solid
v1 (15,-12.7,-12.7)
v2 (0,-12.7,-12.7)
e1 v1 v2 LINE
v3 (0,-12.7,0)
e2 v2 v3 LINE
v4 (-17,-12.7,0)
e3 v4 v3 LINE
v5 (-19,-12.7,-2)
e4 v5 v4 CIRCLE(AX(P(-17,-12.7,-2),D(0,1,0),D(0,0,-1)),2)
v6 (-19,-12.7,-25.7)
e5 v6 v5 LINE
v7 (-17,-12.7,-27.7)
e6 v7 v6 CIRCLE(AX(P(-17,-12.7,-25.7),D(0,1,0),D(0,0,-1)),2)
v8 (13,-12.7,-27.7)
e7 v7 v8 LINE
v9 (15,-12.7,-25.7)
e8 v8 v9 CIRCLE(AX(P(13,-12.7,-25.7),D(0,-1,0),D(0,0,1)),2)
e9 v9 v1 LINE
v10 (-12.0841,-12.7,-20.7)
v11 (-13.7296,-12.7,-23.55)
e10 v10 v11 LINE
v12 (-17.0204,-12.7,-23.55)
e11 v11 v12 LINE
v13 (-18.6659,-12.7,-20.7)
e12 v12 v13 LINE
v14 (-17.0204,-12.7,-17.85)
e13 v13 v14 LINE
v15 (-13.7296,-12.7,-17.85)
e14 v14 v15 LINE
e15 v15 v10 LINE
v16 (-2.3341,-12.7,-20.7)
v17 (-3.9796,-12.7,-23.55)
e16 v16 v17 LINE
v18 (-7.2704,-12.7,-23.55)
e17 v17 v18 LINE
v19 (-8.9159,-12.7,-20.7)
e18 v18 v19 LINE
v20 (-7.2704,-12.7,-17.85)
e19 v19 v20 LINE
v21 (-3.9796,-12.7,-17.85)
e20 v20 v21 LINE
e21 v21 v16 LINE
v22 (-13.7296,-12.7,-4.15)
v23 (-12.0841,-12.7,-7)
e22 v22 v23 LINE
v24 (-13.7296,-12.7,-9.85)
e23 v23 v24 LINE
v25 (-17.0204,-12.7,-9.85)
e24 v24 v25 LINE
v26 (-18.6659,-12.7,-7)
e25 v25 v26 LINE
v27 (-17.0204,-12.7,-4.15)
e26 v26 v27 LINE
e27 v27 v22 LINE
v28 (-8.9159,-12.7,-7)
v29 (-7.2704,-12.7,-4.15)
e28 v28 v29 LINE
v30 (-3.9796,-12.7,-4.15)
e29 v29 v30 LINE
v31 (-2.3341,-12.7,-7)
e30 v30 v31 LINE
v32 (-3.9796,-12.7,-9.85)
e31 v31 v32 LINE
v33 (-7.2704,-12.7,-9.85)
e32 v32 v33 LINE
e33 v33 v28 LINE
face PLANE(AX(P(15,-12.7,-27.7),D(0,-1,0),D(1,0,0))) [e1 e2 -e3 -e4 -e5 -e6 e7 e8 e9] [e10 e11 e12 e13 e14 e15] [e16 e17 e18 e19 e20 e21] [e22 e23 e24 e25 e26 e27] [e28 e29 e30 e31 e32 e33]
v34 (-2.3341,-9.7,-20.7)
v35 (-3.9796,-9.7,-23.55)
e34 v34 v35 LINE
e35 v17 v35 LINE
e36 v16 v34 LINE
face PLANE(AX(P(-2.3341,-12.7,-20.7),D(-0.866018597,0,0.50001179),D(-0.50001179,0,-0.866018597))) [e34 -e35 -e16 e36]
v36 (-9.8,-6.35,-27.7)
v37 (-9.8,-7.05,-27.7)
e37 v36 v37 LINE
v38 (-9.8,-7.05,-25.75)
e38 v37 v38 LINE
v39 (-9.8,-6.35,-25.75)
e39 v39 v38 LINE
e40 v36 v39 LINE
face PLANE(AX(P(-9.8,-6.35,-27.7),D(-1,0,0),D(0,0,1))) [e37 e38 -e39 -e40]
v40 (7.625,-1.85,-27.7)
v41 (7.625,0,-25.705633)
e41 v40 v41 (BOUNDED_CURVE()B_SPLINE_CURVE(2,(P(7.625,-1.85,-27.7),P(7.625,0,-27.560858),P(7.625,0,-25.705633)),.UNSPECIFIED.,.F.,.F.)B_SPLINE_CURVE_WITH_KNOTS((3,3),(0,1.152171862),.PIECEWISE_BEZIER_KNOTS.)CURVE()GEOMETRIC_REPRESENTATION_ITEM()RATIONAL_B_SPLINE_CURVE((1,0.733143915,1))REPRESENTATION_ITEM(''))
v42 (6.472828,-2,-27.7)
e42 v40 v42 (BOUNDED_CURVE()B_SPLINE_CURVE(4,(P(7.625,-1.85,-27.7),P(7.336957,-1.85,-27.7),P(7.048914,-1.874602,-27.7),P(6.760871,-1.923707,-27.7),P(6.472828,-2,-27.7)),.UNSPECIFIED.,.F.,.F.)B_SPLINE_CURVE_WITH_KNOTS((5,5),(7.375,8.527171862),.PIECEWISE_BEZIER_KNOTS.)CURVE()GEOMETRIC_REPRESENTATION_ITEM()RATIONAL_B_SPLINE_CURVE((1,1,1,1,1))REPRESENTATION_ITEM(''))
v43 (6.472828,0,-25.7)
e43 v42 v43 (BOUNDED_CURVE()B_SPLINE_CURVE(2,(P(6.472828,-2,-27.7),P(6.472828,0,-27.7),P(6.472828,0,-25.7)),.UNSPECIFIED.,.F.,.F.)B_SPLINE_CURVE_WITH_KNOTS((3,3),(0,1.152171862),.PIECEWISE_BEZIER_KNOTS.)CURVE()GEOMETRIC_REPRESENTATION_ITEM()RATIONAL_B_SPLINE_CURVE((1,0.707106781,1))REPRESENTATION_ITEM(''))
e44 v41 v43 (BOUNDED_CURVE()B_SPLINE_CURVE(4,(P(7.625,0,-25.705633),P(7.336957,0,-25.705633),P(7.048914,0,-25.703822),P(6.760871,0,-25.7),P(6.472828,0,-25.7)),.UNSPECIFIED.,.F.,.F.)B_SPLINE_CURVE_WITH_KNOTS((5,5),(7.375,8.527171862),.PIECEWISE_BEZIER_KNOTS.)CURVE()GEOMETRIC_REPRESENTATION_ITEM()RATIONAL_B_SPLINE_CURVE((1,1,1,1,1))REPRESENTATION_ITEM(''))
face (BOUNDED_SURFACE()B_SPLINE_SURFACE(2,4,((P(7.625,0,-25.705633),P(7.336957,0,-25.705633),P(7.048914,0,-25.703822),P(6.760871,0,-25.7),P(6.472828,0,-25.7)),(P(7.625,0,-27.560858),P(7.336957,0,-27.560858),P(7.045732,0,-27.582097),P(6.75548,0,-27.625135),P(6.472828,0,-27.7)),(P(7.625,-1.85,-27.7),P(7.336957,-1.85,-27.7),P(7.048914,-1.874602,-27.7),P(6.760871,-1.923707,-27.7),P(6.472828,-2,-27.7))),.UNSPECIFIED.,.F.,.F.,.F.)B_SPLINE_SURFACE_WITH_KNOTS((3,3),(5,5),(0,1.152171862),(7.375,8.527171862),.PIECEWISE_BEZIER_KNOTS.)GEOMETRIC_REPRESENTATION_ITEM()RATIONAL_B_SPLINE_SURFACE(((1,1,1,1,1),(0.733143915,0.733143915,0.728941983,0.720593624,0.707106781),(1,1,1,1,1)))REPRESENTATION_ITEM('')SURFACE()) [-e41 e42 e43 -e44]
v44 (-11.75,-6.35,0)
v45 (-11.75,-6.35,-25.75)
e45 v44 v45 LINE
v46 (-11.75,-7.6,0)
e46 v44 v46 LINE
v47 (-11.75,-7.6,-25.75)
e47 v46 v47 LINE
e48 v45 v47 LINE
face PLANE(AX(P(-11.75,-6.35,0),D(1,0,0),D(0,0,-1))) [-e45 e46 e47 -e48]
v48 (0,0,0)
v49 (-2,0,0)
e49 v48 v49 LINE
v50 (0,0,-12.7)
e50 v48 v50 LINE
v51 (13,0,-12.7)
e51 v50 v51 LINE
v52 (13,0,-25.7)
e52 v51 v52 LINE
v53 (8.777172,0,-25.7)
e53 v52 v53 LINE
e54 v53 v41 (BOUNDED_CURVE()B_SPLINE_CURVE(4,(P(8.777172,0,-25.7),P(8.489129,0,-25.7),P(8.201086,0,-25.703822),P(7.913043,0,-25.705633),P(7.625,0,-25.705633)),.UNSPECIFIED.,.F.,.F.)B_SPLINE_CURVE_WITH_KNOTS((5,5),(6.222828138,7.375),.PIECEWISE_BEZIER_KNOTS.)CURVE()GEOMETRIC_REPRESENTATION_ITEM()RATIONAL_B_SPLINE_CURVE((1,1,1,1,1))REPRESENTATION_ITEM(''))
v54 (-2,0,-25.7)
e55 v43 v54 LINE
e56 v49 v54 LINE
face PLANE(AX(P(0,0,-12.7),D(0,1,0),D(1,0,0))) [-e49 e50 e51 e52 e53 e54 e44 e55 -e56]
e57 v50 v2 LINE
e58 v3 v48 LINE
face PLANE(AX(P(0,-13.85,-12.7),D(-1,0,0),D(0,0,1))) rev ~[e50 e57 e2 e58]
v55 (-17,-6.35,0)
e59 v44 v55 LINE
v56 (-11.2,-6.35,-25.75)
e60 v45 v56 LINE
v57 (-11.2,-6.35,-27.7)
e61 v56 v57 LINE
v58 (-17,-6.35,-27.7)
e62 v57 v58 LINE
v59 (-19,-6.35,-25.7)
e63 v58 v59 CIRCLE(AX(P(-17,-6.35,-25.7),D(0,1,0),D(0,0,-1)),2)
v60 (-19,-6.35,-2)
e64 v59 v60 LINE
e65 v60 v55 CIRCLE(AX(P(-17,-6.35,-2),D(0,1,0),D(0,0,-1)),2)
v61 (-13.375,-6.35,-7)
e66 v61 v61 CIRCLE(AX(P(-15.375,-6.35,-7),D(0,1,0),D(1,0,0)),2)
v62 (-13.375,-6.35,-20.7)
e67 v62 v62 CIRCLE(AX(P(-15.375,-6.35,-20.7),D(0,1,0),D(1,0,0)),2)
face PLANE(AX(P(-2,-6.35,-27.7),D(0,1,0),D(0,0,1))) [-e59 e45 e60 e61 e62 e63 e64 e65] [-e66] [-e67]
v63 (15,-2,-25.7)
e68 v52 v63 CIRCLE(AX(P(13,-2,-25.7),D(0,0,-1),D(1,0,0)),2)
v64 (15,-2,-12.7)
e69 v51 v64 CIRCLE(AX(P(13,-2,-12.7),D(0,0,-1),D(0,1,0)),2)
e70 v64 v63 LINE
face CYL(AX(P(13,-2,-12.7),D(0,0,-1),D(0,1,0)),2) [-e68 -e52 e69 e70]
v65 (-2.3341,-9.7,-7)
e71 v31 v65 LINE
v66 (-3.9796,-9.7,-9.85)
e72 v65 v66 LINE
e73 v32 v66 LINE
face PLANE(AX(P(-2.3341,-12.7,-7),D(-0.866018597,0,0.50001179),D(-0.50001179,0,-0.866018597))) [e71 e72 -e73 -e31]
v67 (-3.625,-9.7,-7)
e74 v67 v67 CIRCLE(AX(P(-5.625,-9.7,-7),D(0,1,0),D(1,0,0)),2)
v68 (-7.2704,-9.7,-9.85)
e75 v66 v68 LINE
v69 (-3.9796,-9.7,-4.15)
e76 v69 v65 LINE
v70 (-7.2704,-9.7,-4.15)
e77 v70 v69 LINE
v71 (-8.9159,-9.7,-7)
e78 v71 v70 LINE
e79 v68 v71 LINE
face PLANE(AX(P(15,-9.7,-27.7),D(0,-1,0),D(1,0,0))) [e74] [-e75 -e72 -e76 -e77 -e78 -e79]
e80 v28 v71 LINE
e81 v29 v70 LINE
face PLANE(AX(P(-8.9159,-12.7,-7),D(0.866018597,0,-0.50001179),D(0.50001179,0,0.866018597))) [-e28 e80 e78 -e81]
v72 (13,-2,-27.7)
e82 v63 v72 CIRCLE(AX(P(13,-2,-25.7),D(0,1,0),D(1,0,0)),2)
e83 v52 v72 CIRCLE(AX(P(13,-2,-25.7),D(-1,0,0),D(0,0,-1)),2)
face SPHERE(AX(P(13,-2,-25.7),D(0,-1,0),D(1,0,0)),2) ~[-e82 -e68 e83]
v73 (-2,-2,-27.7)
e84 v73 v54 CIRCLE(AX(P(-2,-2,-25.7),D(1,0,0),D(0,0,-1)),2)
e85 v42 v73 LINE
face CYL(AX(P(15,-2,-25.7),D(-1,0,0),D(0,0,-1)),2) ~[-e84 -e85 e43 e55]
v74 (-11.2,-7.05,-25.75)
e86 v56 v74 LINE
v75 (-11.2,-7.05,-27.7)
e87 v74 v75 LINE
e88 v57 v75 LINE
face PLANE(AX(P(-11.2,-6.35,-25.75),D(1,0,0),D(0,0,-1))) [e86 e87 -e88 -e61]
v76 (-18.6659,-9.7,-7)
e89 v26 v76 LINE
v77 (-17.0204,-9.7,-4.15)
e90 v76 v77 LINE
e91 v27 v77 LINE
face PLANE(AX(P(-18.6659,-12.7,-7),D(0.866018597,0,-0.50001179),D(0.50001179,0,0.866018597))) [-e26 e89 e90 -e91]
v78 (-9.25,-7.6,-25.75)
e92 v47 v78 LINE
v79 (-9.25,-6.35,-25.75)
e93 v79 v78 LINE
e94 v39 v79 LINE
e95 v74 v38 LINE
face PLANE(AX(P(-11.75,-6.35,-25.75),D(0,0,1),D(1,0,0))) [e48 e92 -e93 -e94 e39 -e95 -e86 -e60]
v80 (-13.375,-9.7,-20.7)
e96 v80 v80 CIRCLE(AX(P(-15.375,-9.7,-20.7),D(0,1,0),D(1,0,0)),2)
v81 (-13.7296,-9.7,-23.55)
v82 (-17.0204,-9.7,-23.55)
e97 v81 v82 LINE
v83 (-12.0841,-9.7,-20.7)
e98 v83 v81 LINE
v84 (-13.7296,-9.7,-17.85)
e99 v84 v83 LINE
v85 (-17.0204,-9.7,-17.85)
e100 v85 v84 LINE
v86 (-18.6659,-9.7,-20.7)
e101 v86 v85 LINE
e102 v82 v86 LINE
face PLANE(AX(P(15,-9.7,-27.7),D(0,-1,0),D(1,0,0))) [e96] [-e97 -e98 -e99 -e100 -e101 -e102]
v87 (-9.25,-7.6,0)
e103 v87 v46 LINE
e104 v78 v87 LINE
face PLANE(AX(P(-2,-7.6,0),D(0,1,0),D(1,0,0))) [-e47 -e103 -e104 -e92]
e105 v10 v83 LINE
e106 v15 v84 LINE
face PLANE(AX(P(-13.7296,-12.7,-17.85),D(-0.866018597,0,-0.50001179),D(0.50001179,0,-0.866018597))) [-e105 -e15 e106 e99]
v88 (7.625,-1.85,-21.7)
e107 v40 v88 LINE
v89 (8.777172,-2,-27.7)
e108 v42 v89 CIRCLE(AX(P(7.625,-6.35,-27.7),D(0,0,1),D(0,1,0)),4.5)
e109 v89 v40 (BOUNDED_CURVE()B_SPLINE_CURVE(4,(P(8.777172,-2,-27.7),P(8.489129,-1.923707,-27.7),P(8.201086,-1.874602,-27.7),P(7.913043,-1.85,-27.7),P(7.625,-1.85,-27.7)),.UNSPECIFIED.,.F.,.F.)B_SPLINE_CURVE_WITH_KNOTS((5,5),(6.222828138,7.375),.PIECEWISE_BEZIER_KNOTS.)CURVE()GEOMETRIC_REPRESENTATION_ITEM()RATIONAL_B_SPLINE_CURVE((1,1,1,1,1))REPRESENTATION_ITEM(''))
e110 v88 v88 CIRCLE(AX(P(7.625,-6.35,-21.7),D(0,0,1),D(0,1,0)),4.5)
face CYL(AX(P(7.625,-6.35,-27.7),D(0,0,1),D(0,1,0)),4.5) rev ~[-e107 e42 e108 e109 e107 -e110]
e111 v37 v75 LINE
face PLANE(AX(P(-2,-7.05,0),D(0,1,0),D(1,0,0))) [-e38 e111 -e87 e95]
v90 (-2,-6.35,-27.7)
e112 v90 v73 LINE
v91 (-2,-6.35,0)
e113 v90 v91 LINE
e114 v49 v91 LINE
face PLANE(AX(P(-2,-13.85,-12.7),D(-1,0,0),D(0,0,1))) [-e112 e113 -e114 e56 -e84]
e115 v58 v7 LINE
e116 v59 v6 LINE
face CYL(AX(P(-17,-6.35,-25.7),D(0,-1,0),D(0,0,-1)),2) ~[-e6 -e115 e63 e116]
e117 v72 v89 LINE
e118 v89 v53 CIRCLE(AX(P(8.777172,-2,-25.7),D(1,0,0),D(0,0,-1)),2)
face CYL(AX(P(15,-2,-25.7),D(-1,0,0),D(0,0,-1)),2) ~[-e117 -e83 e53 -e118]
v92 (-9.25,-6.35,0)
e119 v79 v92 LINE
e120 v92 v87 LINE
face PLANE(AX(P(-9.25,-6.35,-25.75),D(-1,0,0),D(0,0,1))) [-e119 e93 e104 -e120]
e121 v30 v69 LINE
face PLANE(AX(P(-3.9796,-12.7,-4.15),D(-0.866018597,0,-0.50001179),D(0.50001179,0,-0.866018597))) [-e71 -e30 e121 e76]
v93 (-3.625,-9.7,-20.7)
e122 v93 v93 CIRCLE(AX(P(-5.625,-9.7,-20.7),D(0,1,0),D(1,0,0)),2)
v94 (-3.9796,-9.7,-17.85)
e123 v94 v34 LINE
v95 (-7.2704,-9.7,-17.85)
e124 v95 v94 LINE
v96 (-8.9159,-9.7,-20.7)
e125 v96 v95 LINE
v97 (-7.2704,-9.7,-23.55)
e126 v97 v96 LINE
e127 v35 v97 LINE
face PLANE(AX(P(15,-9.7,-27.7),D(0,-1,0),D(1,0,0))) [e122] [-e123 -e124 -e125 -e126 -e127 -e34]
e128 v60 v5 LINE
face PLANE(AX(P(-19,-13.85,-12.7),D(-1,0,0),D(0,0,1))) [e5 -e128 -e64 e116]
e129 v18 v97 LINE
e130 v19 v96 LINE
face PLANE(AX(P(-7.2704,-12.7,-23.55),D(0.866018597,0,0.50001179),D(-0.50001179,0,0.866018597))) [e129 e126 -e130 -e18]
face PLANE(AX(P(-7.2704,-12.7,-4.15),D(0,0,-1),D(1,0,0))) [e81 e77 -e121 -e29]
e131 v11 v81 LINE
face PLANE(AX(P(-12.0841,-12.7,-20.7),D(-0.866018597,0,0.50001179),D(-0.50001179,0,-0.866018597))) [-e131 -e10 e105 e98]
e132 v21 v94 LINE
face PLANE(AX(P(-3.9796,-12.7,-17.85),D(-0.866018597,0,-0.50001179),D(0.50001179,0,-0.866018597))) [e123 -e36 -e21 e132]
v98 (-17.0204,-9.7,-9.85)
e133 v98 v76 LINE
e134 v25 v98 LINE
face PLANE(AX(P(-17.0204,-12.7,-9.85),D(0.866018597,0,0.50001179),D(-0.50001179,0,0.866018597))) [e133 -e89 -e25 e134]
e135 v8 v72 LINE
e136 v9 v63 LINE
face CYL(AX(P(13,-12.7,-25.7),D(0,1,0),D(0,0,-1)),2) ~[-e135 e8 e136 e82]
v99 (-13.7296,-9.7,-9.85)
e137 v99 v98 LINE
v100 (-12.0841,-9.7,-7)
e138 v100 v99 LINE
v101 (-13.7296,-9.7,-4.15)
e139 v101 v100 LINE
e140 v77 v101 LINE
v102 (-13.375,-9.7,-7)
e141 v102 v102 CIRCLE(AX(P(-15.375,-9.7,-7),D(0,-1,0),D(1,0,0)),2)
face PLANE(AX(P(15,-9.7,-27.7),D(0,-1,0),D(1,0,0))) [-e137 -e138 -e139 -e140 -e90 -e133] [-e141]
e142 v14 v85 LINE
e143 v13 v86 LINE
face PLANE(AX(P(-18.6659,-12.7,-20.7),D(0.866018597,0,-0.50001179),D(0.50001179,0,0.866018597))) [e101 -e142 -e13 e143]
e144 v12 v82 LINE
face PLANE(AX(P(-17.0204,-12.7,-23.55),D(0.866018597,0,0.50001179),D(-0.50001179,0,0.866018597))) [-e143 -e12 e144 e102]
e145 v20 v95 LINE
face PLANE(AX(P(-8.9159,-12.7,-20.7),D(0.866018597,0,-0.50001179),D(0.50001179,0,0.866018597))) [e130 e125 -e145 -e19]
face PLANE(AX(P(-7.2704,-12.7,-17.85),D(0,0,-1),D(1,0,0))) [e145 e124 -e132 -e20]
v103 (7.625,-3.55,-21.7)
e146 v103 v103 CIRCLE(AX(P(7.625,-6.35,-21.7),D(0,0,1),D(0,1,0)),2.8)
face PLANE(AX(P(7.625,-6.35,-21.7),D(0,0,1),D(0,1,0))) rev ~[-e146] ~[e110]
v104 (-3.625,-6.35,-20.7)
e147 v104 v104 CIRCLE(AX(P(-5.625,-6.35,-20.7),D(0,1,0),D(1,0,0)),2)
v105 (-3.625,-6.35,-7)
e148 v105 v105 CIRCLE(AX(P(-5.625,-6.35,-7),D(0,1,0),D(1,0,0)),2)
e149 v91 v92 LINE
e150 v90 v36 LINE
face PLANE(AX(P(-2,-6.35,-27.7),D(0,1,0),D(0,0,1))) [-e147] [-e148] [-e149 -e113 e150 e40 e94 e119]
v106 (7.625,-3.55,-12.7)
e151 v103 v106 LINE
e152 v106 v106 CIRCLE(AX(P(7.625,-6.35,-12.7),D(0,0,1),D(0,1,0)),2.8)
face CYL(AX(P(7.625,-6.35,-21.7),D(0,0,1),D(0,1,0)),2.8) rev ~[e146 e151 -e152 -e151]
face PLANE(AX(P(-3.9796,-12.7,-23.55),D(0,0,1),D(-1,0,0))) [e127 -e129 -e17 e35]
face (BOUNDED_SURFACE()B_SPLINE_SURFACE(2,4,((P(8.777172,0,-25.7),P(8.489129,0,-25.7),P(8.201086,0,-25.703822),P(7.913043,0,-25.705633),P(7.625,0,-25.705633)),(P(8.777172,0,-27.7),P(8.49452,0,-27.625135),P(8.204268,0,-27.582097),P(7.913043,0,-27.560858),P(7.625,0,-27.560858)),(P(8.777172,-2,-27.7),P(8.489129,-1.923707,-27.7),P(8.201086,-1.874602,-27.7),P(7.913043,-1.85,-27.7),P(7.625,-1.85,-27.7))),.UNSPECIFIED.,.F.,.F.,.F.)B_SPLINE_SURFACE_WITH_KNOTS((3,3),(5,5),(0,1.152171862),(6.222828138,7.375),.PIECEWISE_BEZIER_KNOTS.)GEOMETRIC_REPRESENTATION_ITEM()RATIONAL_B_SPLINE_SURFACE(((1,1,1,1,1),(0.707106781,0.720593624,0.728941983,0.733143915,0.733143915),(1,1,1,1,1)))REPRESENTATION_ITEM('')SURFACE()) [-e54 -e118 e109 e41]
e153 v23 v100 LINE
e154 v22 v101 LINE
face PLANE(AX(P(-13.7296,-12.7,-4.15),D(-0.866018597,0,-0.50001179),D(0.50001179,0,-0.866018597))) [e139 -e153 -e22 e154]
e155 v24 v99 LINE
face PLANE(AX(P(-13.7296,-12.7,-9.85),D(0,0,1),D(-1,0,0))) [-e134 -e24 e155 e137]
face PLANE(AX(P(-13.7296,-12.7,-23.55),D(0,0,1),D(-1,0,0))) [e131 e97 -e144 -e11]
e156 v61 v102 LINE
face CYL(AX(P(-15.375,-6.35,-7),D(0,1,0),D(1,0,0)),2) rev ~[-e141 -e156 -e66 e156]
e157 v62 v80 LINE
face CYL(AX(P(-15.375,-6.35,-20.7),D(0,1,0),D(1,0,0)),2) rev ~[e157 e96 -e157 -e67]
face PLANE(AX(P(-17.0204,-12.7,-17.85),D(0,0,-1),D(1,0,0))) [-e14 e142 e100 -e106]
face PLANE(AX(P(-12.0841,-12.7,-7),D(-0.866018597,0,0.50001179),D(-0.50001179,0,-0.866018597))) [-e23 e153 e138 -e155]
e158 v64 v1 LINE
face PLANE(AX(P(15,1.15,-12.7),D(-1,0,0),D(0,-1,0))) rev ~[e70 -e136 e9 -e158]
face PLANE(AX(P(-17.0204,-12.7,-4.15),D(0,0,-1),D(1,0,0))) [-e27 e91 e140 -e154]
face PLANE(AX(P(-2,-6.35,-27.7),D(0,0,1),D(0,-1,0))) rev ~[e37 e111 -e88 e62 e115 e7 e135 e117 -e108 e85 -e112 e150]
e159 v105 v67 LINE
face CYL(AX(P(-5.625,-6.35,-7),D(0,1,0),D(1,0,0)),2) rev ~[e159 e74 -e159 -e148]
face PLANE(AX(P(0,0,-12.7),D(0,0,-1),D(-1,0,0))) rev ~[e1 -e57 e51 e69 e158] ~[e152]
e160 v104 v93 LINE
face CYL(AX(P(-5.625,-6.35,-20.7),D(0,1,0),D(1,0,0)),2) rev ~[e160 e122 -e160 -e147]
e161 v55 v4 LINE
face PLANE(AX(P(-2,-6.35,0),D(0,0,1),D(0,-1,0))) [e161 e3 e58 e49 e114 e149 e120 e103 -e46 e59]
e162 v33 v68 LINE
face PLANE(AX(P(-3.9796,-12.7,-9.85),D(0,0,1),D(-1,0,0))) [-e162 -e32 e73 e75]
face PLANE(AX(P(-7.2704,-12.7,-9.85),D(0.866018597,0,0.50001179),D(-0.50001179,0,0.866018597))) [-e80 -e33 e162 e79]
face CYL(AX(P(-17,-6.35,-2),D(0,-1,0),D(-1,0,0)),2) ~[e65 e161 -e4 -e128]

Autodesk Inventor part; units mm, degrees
ref_plane "YZ Plane" through (0, 0, 0) normal (1, 0, 0) x (0, 1, 0)
ref_plane "XZ Plane" through (0, 0, 0) normal (0, 1, 0) x (-1, 0, 0)
ref_plane "Arbeitsebene1" through (0, 0, -12.7) normal (0, 0, -1) x (-1, 0, 0)
sketch "Skizze2" plane through (0, 0, -12.7) normal (0, 0, -1) x (-1, 0, 0)
  line L0 (-55.25, 0) -> (-55.25, -12.7) projected
  line L1 (0, -12.7) -> (-55.25, -12.7) projected
  line L2 (0, 0) -> (0, -12.7) projected
  line L3 (0, 0) -> (-55.25, 0) projected
  circle A0 centre (-47.625, -6.35) radius 2.75 projected
  circle A1 centre (-7.625, -6.35) radius 2.75 projected
  line L4 (0, 1.15) -> (-15, 1.15)
  line L5 (-15, 1.15) -> (-15, -13.85)
  line L6 (-15, -13.85) -> (0, -13.85)
  line L7 (0, -13.85) -> (0, 1.15)
  point P0 (-15, -6.35)
  dimension "d1" = 15
  dimension "d2" = 0
  dimension "d3" = 15
extrude "Extrusion1" add sketch "Skizze2" along normal blind 15 contours L5 L4 L7 L3 | L3 L2 L1 L5 | L1 L7 L6 L5 | A1
sketch "Skizze3" plane through (0, -13.85, -12.7) normal (-1, 0, 0) x (0, 0, 1)
  line L0 (12.7, 1.15) -> (12.7, 13.85) projected
  line L1 (-15, 0) -> (-15, 15) projected
  line L2 (-15, 15) -> (12.7, 15)
  line L3 (12.7, 15) -> (12.7, 0)
  line L4 (12.7, 0) -> (-15, 0)
  line L5 (-15, 0) -> (-15, 15)
  line L6 (0, 0) -> (-15, 0) projected
extrude "Extrusion2" add sketch "Skizze3" along normal blind 2
sketch "Skizze4" plane through (-2, -13.85, -12.7) normal (-1, 0, 0) x (0, 0, 1)
  line L0 (0, 0) -> (12.7, 0) projected
  line L1 (-15, 15) -> (-15, 0) projected
  line L2 (12.7, 0) -> (-15, 0)
  line L3 (-15, 0) -> (-15, 7.5)
  line L4 (-15, 7.5) -> (12.7, 7.5)
  line L5 (12.7, 7.5) -> (12.7, 0)
  line L6 (12.7, 0) -> (12.7, 15) projected
  point P0 (12.7, 13.85)
  point P1 (12.7, 7.5)
  point P2 (-1.15, 7.5)
extrude "Extrusion3" add sketch "Skizze4" along normal blind 17
sketch "Skizze5" plane through (-2, -6.35, 0) normal (0, 1, 0) x (1, 0, 0)
  line L0 (0, 27.7) -> (-17, 27.7) projected
  line L1 (0, 0) -> (0, 27.7) projected
  line L2 (0, 0) -> (-17, 0) projected
  line L3 (-17, 0) -> (-17, 27.7) projected
  line L4 (-7.25, 0) -> (-9.75, 0)
  line L5 (-9.75, 0) -> (-9.75, 25.75)
  line L6 (-9.75, 25.75) -> (-7.25, 25.75)
  line L7 (-7.25, 25.75) -> (-7.25, 0)
  point P0 (2, 0)
  point P1 (-8.5, 0)
  point P2 (-8.5, 0)
  dimension "d10" = 2.5
  dimension "d17" = 25.75
extrude "Extrusion4" cut sketch "Skizze5" against normal blind 1.25 contours L2 L5 L6 L7
sketch "Skizze6" plane through (-2, -6.35, 0) normal (0, 1, 0) x (1, 0, 0)
  line L0 (-9.75, 25.75) -> (-7.25, 25.75) projected
  line L1 (-7.25, 25.75) -> (-7.25, 0) projected
  line L2 (-9.75, 0) -> (-9.75, 25.75) projected
  line L3 (0, 27.7) -> (-17, 27.7) projected
  line L4 (-9.75, 25.75) -> (-7.25, 25.75) projected
  line L5 (-7.8, 25.75) -> (-9.2, 25.75)
  line L6 (-9.2, 25.75) -> (-9.2, 27.7)
  line L7 (-9.2, 27.7) -> (-7.8, 27.7)
  line L8 (-7.8, 27.7) -> (-7.8, 25.75)
  point P0 (2, 0)
  point P1 (-8.5, 25.75)
  point P2 (-8.5, 25.75)
  point P3 (-7.8, 27.7)
  dimension "d14" = 1.4
extrude "Extrusion5" cut sketch "Skizze6" against normal blind 0.7
sketch "Skizze7" plane through (-2, -6.35, 0) normal (0, 1, 0) x (1, 0, 0)
  circle A0 centre (-3.625, 7) radius 2
  circle A1 centre (-13.375, 7) radius 2
  circle A2 centre (-13.375, 20.7) radius 2
  circle A3 centre (-3.625, 20.7) radius 2
  line L0 (0, 0) -> (-7.25, 0) projected
  line L1 (-9.75, 0) -> (-17, 0) projected
  line L2 (-9.2, 27.7) -> (-17, 27.7) projected
  point P0 (2, 0)
  point P1 (-3.625, 0)
  point P2 (-13.375, 0)
  dimension "d18" = 4
  dimension "d19" = 4
  dimension "d20" = 4
  dimension "d21" = 4
  dimension "d22" = 7
  dimension "d23" = 7
extrude "Extrusion6" cut sketch "Skizze7" against normal blind 10
sketch "Skizze9" plane through (0, 0, -27.7) normal (0, 0, -1) x (-1, 0, 0)
  circle A0 centre (-7.625, -6.35) radius 2.75 projected
  point P0 (0, 0)
hole "Bohrung1" at (7.625, -6.35, -27.7) direction (0, 0, 1) diameter 5.6 depth 15 counterbore diameter 9 counterbore depth 6
sketch "Skizze10" plane through (0, 1.15, -12.7) normal (0, 1, 0) x (1, 0, 0)
  line L0 (19, -16) -> (-4, -16)
  line L1 (-4, -16) -> (-4, 20)
  line L2 (-4, 20) -> (19, 20)
  line L3 (19, 20) -> (19, -16)
  point P0 (0, -12.7)
extrude "Extrusion8" cut sketch "Skizze10" against normal blind 1.15
sketch "Skizze11" plane through (15, -13.85, -27.7) normal (0, -1, 0) x (1, 0, 0)
  line L0 (6, 49) -> (-39, 49)
  line L1 (-39, 49) -> (-39, -17)
  line L2 (-39, -17) -> (6, -17)
  line L3 (6, -17) -> (6, 49)
  point P0 (-15, 27.7)
extrude "Extrusion9" cut sketch "Skizze11" against normal blind 1.15
fillet "Rundung2" radius 2 5 edges at (-19, -9.525, -27.7) (-19, -9.525, 0) (15, -6.35, -27.7) (15, 0, -20.2) (6.5, 0, -27.7)
sketch "Skizze12" plane through (15, -12.7, -27.7) normal (0, -1, 0) x (1, 0, 0)
  circle A0 centre (-30.375, 20.7) radius 2 projected
  circle A1 centre (-20.625, 20.7) radius 2 projected
  circle A2 centre (-20.625, 7) radius 2 projected
  circle A3 centre (-30.375, 7) radius 2 projected
  line L0 (-27.0841, 20.7) -> (-28.7296, 17.85)
  line L1 (-28.7296, 17.85) -> (-32.0204, 17.85)
  line L2 (-32.0204, 17.85) -> (-33.6659, 20.7)
  line L3 (-33.6659, 20.7) -> (-32.0204, 23.55)
  line L4 (-32.0204, 23.55) -> (-28.7296, 23.55)
  line L5 (-28.7296, 23.55) -> (-27.0841, 20.7)
  line L6 (-17.3341, 20.7) -> (-18.9796, 17.85)
  line L7 (-18.9796, 17.85) -> (-22.2704, 17.85)
  line L8 (-22.2704, 17.85) -> (-23.9159, 20.7)
  line L9 (-23.9159, 20.7) -> (-22.2704, 23.55)
  line L10 (-22.2704, 23.55) -> (-18.9796, 23.55)
  line L11 (-18.9796, 23.55) -> (-17.3341, 20.7)
  line L12 (-17.3341, 7) -> (-18.9796, 4.15)
  line L13 (-18.9796, 4.15) -> (-22.2704, 4.15)
  line L14 (-22.2704, 4.15) -> (-23.9159, 7)
  line L15 (-23.9159, 7) -> (-22.2704, 9.85)
  line L16 (-22.2704, 9.85) -> (-18.9796, 9.85)
  line L17 (-18.9796, 9.85) -> (-17.3341, 7)
  line L18 (-28.7296, 4.15) -> (-32.0204, 4.15)
  line L19 (-32.0204, 4.15) -> (-33.6659, 7)
  line L20 (-33.6659, 7) -> (-32.0204, 9.85)
  line L21 (-32.0204, 9.85) -> (-28.7296, 9.85)
  line L22 (-28.7296, 9.85) -> (-27.0841, 7)
  line L23 (-27.0841, 7) -> (-28.7296, 4.15)
  line L24 (-2, 0) -> (-32, 0) projected
  point P0 (-15, 27.7)
  point P1 (-30.375, 17.85)
  point P2 (-20.625, 17.85)
  dimension "d43" = 5.7
extrude "Extrusion10" cut sketch "Skizze12" against normal blind 3 contours A1 | A2 | A3 | L0 L1 L2 L3 L4 L5 | L6 L7 L8 L9 L10 L11 | L12 L13 L14 L15 L16 L17 | L18 L19 L20 L21 L22 L23
equation "\"d19\" = d18"
equation "\"d20\" = d19"
equation "\"d21\" = d19"
equation "\"d23\" = d22"
properties part number "NadelhalterSchraub"
